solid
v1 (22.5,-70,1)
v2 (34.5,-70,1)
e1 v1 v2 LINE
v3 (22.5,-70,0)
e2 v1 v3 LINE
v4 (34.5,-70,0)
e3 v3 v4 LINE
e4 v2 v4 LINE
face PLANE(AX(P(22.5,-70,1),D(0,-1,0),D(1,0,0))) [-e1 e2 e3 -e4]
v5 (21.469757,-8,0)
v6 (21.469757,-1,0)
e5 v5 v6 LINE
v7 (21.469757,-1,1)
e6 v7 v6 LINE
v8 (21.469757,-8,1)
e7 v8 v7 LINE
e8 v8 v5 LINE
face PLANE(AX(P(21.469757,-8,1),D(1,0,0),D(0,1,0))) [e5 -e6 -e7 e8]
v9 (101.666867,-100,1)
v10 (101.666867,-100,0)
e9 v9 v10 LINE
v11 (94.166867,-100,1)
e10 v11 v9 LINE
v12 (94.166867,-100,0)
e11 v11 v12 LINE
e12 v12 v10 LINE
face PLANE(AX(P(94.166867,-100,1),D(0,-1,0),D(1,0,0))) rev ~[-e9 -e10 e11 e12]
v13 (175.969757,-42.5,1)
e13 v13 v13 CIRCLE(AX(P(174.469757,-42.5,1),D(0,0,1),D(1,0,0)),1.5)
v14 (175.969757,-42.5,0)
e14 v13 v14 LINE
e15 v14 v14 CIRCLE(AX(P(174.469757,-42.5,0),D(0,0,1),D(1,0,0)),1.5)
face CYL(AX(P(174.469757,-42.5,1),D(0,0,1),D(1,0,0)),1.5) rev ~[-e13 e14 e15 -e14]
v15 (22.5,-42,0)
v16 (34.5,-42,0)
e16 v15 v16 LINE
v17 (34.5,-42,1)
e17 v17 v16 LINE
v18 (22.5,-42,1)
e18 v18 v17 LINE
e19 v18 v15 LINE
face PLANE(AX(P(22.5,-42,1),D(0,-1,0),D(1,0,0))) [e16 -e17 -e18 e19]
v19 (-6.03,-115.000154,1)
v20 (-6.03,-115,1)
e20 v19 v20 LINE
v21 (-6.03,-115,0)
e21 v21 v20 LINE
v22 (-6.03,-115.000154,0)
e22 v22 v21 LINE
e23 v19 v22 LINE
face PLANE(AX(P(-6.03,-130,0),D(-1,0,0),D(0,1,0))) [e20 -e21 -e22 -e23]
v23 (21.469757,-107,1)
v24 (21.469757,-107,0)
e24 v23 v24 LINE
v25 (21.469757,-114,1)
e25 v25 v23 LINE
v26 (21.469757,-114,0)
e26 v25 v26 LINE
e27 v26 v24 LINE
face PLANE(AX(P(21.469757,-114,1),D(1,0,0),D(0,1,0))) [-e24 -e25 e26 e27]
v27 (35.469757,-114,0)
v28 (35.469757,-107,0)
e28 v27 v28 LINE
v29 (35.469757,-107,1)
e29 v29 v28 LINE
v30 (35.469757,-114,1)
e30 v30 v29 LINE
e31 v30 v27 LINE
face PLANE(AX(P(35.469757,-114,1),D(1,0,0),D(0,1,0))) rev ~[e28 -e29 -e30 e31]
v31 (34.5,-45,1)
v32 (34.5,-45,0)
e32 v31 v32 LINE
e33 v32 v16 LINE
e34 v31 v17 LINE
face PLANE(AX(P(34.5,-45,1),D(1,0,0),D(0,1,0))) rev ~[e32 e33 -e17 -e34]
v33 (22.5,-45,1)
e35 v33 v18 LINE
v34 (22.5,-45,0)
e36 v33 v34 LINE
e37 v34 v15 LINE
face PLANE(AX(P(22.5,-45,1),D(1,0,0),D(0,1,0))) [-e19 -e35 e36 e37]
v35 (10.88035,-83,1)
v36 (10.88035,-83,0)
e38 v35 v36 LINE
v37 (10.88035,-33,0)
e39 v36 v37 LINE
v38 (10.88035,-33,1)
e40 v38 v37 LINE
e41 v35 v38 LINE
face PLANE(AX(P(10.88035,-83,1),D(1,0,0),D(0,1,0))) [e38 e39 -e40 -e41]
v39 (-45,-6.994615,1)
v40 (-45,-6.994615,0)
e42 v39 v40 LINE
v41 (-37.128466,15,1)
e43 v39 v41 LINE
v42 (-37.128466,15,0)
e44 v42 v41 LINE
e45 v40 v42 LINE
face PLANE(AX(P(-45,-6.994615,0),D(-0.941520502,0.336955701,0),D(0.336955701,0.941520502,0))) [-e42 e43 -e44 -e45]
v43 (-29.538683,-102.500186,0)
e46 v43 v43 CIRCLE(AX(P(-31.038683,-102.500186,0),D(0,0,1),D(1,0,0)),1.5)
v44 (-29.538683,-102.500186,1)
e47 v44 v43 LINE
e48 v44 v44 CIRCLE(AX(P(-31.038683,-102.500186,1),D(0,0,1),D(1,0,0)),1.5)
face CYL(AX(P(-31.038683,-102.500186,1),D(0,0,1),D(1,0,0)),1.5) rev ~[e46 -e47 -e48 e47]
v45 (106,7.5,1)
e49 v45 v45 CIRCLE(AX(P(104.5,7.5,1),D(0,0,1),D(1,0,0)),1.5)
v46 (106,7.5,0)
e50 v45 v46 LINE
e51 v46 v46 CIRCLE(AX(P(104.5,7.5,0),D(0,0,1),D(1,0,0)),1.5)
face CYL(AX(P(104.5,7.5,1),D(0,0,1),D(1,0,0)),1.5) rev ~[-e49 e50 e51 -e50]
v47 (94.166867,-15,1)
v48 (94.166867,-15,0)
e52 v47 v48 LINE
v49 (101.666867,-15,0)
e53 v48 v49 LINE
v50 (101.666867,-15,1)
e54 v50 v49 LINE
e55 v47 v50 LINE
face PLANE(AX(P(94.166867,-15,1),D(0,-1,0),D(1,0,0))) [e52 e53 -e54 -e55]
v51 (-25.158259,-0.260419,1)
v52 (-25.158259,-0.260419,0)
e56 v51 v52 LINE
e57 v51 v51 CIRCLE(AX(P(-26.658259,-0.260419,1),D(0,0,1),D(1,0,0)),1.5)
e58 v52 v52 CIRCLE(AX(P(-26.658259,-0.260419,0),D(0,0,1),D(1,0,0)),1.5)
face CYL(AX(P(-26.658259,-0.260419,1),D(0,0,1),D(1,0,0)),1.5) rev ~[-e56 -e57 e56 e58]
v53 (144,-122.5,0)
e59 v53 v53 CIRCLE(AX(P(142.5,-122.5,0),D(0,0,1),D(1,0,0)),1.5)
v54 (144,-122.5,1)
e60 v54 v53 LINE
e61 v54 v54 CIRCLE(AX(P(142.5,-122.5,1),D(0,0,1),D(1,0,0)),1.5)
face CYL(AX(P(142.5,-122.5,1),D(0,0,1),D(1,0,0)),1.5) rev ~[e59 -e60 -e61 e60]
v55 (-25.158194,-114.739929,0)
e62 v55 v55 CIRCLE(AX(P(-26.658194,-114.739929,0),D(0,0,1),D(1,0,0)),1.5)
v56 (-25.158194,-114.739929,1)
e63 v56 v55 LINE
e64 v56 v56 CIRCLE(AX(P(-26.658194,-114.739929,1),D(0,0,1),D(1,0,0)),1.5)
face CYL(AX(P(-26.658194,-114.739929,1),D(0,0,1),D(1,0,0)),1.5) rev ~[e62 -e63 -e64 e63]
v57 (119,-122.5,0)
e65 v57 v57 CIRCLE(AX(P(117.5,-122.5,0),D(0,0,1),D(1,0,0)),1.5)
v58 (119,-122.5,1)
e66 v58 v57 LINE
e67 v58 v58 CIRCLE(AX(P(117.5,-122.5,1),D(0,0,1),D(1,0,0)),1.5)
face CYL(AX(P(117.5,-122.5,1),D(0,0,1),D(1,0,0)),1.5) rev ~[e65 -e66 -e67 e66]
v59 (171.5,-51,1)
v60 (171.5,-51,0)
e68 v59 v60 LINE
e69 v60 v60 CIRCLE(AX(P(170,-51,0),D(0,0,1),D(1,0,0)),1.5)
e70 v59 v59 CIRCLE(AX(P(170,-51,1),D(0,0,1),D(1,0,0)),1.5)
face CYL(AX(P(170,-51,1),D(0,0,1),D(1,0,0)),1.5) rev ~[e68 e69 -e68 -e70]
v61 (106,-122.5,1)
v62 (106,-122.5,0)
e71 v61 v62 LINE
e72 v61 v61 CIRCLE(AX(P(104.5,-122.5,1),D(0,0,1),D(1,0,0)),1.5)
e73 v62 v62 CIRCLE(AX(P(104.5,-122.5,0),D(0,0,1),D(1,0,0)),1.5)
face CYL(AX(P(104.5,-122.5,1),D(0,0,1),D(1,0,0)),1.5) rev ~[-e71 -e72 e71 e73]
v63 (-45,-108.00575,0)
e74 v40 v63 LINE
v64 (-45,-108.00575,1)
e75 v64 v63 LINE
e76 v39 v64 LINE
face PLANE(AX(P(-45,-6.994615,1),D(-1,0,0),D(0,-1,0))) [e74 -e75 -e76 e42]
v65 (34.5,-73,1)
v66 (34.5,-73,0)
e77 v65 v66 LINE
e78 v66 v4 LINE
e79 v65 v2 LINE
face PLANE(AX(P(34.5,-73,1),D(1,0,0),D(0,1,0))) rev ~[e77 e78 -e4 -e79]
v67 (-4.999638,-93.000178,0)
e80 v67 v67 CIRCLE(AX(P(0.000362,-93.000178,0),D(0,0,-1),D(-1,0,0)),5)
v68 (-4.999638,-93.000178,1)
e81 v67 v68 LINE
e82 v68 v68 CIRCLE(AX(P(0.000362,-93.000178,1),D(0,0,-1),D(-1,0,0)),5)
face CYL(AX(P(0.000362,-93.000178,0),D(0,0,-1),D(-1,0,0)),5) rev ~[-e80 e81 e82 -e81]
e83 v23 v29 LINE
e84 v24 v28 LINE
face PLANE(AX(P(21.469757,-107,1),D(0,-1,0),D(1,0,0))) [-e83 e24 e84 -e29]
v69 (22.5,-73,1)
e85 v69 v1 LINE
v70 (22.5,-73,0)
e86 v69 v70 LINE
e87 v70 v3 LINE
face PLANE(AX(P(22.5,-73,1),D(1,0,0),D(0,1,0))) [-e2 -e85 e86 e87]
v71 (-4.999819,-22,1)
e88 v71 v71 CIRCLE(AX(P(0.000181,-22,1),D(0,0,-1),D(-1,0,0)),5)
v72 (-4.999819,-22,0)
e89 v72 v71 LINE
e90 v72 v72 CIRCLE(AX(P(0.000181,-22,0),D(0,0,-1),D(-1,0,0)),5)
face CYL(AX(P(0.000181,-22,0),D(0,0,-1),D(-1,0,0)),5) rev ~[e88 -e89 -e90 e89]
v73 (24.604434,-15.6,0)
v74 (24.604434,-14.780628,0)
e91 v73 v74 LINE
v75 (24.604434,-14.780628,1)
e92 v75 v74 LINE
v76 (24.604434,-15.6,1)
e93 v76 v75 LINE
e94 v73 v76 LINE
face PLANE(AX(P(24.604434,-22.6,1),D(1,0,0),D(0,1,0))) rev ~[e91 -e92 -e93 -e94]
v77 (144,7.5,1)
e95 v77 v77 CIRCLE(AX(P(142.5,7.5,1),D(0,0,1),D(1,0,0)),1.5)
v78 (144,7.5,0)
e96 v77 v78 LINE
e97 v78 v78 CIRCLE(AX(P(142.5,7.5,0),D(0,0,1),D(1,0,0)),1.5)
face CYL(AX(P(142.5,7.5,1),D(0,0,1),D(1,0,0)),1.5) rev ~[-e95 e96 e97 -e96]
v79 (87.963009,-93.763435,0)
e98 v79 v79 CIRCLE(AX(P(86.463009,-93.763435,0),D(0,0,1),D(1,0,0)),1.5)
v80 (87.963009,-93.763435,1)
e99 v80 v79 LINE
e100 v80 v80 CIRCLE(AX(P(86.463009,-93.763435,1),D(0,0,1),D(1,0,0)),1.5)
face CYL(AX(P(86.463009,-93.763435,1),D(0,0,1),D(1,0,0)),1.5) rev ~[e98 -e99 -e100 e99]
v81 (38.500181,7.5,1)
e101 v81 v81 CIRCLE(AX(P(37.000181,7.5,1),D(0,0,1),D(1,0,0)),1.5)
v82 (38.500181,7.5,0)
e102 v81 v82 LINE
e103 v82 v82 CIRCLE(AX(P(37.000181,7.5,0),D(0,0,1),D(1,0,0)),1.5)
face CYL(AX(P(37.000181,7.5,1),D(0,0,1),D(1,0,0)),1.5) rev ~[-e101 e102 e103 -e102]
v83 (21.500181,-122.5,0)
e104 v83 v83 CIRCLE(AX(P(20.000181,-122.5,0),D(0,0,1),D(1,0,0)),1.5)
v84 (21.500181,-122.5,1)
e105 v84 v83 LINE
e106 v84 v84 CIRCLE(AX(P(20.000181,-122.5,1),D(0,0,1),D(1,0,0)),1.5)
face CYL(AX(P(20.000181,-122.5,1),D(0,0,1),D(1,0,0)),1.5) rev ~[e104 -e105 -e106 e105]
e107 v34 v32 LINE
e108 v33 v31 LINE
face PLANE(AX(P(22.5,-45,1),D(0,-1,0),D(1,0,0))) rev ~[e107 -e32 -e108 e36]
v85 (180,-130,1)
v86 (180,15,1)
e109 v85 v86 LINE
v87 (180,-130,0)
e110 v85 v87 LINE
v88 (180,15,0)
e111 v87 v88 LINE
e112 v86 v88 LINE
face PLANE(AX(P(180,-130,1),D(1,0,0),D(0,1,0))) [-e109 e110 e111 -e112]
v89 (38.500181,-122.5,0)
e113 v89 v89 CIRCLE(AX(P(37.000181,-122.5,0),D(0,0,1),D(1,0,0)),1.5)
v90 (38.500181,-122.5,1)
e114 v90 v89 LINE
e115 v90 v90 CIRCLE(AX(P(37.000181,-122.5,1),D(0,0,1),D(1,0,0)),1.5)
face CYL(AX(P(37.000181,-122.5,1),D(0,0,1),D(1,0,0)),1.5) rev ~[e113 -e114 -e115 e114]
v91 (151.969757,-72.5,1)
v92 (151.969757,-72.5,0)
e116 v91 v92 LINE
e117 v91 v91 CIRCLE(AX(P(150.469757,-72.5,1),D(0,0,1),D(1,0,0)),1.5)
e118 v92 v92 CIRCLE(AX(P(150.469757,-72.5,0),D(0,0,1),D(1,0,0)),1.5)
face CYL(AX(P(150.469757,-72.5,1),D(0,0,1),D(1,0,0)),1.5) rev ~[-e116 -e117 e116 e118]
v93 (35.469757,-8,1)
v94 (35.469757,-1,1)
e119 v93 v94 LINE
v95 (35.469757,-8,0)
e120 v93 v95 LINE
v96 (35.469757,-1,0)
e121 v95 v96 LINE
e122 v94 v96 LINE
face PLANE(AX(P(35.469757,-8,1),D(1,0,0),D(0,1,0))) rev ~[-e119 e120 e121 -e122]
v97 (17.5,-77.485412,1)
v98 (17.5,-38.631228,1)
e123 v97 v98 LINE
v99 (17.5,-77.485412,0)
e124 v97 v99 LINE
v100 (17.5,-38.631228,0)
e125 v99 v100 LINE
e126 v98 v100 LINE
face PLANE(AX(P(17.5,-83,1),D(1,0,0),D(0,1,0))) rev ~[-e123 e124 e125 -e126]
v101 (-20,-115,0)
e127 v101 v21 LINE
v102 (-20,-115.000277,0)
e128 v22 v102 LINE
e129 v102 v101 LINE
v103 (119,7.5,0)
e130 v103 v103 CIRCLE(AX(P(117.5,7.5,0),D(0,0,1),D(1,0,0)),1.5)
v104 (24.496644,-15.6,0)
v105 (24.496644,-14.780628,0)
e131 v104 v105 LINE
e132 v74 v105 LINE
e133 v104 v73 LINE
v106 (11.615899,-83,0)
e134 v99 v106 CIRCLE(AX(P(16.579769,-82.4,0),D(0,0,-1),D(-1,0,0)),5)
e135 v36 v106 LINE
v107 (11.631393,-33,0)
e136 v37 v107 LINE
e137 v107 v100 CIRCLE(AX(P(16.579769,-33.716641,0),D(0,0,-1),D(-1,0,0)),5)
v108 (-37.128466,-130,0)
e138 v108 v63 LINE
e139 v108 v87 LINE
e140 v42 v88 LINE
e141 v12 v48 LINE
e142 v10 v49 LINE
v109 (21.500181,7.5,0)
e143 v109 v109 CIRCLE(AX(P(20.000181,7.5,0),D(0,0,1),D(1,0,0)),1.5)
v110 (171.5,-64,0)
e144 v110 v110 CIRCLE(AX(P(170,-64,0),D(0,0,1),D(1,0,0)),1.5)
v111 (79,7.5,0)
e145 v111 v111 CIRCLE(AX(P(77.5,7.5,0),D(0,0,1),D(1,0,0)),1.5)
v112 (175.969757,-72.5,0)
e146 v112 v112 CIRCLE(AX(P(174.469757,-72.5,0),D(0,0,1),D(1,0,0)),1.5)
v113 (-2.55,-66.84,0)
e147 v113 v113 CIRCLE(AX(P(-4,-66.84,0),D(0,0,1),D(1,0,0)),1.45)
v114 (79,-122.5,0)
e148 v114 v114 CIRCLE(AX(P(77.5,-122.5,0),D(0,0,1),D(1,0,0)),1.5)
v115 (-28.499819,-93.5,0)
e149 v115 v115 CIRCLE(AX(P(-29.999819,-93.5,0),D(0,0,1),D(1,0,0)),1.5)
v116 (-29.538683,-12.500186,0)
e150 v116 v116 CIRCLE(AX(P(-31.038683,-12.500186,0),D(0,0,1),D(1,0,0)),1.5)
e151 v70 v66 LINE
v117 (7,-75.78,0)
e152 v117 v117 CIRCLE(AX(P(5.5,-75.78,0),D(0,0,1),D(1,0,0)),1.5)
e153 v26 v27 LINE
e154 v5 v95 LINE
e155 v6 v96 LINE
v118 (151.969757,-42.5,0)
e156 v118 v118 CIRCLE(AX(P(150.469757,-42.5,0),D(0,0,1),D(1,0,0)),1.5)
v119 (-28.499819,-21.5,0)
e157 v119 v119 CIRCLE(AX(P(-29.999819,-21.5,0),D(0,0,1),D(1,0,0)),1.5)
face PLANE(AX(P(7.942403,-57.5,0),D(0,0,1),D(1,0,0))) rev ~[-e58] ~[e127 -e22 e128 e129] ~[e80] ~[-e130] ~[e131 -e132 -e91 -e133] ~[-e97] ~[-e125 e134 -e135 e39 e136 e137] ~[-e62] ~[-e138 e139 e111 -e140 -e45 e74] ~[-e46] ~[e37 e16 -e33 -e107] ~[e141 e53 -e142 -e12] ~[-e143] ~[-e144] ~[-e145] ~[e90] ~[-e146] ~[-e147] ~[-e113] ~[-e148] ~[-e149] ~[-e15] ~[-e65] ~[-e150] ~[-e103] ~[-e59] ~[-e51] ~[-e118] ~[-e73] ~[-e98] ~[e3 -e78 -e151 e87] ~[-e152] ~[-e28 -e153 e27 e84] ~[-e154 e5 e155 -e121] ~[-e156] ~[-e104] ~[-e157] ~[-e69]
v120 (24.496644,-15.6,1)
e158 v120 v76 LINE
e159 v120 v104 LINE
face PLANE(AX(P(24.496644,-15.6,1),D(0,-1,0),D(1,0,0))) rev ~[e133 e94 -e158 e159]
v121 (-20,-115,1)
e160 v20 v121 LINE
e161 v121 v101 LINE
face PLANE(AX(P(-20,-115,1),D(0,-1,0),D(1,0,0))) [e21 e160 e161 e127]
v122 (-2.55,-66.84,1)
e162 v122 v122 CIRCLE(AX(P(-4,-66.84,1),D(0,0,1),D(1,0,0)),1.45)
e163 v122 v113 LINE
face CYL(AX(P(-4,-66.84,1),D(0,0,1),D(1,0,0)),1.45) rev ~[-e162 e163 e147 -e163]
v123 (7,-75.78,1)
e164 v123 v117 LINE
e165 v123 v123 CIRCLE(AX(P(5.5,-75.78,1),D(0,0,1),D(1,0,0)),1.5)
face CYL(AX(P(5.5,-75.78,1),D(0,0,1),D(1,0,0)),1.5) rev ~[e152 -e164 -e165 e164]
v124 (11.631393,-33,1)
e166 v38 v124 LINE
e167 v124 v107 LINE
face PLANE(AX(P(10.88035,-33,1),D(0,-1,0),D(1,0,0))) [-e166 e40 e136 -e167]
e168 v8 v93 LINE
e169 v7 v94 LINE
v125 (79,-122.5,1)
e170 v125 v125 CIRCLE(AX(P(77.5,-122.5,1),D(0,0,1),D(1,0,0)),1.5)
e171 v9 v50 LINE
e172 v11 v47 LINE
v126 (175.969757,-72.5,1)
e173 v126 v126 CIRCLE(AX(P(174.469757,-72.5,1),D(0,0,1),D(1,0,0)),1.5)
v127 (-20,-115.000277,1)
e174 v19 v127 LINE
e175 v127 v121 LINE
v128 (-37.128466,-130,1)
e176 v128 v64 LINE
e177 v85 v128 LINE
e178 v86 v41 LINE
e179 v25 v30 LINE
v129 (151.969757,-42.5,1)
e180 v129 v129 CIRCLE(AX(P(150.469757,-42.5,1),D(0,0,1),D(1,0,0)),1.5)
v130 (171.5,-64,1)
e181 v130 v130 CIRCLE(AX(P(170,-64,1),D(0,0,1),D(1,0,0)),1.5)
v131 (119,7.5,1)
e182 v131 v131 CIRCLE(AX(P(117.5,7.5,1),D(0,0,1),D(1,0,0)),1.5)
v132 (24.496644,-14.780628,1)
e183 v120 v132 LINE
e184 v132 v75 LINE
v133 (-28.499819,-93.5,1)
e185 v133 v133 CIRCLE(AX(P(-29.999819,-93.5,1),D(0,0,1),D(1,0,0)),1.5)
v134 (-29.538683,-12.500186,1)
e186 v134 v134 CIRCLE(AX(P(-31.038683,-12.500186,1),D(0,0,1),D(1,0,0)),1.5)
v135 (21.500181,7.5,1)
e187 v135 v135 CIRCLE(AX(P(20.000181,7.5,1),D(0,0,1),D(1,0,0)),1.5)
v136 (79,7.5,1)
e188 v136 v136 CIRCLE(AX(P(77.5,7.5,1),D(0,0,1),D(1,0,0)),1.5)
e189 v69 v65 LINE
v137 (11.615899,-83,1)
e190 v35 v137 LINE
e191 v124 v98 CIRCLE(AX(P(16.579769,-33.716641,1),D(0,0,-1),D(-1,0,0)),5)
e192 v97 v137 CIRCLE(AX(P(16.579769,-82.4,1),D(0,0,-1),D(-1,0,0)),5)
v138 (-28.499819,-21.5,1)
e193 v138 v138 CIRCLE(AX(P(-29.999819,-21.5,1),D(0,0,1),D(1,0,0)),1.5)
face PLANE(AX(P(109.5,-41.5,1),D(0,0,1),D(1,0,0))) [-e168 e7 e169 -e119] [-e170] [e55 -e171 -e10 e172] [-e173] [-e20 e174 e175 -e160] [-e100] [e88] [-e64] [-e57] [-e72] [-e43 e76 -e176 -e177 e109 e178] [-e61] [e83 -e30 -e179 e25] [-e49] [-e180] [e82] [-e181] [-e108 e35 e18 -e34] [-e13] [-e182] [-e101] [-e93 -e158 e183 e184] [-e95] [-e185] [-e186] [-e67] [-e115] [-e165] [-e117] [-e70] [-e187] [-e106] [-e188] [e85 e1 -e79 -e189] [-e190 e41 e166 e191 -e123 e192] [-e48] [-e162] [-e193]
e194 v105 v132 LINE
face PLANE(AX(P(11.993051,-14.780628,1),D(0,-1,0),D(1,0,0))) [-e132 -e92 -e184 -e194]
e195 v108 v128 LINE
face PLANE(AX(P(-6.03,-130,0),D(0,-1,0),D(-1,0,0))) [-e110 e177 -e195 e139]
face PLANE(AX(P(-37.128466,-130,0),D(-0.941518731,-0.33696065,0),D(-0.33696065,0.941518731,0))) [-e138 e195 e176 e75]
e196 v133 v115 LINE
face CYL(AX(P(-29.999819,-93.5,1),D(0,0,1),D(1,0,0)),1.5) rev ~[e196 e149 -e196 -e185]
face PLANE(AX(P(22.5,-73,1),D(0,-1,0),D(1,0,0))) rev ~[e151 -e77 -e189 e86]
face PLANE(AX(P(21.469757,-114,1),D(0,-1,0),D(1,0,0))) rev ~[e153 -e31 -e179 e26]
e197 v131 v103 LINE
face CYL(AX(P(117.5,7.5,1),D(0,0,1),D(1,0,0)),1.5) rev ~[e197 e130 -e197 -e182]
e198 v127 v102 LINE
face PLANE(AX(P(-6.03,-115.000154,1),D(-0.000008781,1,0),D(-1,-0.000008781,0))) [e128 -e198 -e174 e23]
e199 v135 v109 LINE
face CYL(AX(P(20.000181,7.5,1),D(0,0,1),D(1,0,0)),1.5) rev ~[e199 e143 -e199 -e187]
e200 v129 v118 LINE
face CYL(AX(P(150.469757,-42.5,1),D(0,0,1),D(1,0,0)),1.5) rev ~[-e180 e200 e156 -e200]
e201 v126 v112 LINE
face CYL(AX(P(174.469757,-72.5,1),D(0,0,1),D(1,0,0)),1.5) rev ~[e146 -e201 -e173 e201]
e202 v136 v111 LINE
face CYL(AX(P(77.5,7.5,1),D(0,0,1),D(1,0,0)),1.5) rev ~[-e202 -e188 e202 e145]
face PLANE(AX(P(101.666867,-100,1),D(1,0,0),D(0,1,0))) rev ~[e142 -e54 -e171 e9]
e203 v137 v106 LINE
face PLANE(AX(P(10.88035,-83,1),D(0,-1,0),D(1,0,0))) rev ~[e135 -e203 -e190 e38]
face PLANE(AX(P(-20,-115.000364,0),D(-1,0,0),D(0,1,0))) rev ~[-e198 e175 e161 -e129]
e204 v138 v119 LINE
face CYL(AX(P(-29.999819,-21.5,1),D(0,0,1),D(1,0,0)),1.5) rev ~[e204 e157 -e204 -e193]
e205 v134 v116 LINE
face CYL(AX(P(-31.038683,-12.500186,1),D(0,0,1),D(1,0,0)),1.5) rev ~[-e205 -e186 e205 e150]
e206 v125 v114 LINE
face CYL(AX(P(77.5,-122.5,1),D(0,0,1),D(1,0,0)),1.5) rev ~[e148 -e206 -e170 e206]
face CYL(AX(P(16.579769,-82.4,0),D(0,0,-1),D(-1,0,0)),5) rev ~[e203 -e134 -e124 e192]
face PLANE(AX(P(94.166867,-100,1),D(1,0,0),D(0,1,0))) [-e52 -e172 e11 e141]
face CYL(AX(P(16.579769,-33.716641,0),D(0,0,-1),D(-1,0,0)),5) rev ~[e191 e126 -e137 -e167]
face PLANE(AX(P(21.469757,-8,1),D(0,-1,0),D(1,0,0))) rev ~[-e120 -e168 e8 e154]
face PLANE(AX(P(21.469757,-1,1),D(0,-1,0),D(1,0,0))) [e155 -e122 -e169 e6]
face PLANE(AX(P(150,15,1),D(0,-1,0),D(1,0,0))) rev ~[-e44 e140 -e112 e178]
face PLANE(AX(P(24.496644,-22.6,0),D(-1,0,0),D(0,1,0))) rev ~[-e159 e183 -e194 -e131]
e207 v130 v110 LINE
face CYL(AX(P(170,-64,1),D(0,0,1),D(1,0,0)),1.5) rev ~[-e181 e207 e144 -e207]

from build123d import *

# Parameters (mm, degrees)
SKETCH1_W            = 150
SKETCH1_H            = 115
BOSS_EXTRUDE1_DEPTH  = 1
SKETCH2_W            = 12
SKETCH2_H            = 3
CUT_EXTRUDE1_DEPTH   = 1
SKETCH6_R            = 1.5
CUT_EXTRUDE8_DEPTH   = 1
SKETCH7_W            = 3
SKETCH7_H            = 12
CUT_EXTRUDE9_DEPTH   = 1
SKETCH8_R            = 1.5
CUT_EXTRUDE10_DEPTH  = 1
SKETCH11_W           = 12
SKETCH11_H           = 7
CUT_EXTRUDE13_DEPTH  = 1
SKETCH13_W           = 12
SKETCH13_H           = 7
CUT_EXTRUDE14_DEPTH  = 1
SKETCH14_W           = 15
SKETCH14_H           = 15
BOSS_EXTRUDE4_DEPTH  = 1
SKETCH16_W           = 15
SKETCH16_H           = 15
BOSS_EXTRUDE6_DEPTH  = 1
SKETCH17_W           = 20
SKETCH17_H           = 115
BOSS_EXTRUDE7_DEPTH  = 1
SKETCH18_W           = 10
SKETCH18_H           = 115.000364416
BOSS_EXTRUDE8_DEPTH  = 1
BOSS_EXTRUDE9_DEPTH  = 1
BOSS_EXTRUDE10_DEPTH = 1
SKETCH21_R           = 1.5
CUT_EXTRUDE15_DEPTH  = 1
SKETCH22_R           = 1.5
CUT_EXTRUDE16_DEPTH  = 1
SKETCH23_R           = 1.5
CUT_EXTRUDE17_DEPTH  = 1
SKETCH24_R           = 1.5
CUT_EXTRUDE18_DEPTH  = 1
SKETCH25_R           = 1.52220731
SKETCH25_R_2         = 1.5
CUT_EXTRUDE19_DEPTH  = 1
SKETCH26_R           = 1.5
CUT_EXTRUDE20_DEPTH  = 1
SKETCH27_W           = 11.454851069
SKETCH27_H           = 7.502285944
CUT_EXTRUDE21_DEPTH  = 1
SKETCH28_W           = 4.81914972
SKETCH28_H           = 7.502285944
BOSS_EXTRUDE11_DEPTH = 1
SKETCH29_W           = 12.611382983
SKETCH29_H           = 7.819372276
CUT_EXTRUDE22_DEPTH  = 1
SKETCH30_W           = 9.50335562
SKETCH30_H           = 7
BOSS_EXTRUDE12_DEPTH = 1
SKETCH31_W           = 13.503593385
SKETCH31_H           = 8.577826874
CUT_EXTRUDE23_DEPTH  = 1
SKETCH32_W           = 1
SKETCH32_H           = 7.819372276
CUT_EXTRUDE24_DEPTH  = 1
SKETCH33_W           = 11.454851069
SKETCH33_H           = 7.502285944
BOSS_EXTRUDE13_DEPTH = 1
SKETCH34_R           = 5
CUT_EXTRUDE25_DEPTH  = 1
SKETCH35_W           = 4.294132012
SKETCH35_H           = 28
CUT_EXTRUDE26_DEPTH  = 1
SKETCH36_R           = 1.5
CUT_EXTRUDE28_DEPTH  = 10
SKETCH37_R           = 5
CUT_EXTRUDE29_DEPTH  = 1
SKETCH38_W           = 50
SKETCH38_H           = 15
BOSS_EXTRUDE14_DEPTH = 1
BOSS_EXTRUDE15_DEPTH = 1
SKETCH40_W           = 30
SKETCH40_H           = 145
BOSS_EXTRUDE16_DEPTH = 1
SKETCH41_W           = 76.030000001
SKETCH41_H           = 15
SKETCH41_W_2         = 76.030243438
BOSS_EXTRUDE17_DEPTH = 1
SKETCH42_R           = 1.5
SKETCH42_R_2         = 1.52220731
SKETCH42_W           = 13.503593385
SKETCH42_H           = 8.577826874
SKETCH42_H_2         = 7.819372276
BOSS_EXTRUDE18_DEPTH = 1
SKETCH43_R           = 1.5
CUT_EXTRUDE30_DEPTH  = 1
SKETCH44_R           = 1.5
SKETCH44_W           = 14
SKETCH44_H           = 7
CUT_EXTRUDE31_DEPTH  = 1
BOSS_EXTRUDE19_DEPTH = 1
SKETCH46_R           = 1.5
CUT_EXTRUDE32_DEPTH  = 1
SKETCH47_W           = 4.294132012
SKETCH47_H           = 28
BOSS_EXTRUDE22_DEPTH = 1
SKETCH48_W           = 0.074133506
SKETCH48_H           = 12
BOSS_EXTRUDE23_DEPTH = 1
SKETCH49_R           = 1.5
SKETCH49_R_2         = 1.45
CUT_EXTRUDE34_DEPTH  = 1
SKETCH50_R           = 1.5
CUT_EXTRUDE35_DEPTH  = 1
SKETCH51_R           = 1.5
BOSS_EXTRUDE24_DEPTH = 1
SKETCH52_R           = 1.5
CUT_EXTRUDE37_DEPTH  = 1
SKETCH53_W           = 6.619650314
SKETCH53_H           = 50
CUT_EXTRUDE38_DEPTH  = 1
SKETCH54_R           = 1.5
BOSS_EXTRUDE25_DEPTH = 1
SKETCH55_R           = 1.5
CUT_EXTRUDE39_DEPTH  = 10
SKETCH58_W           = 7.5
SKETCH58_H           = 85
CUT_EXTRUDE40_DEPTH  = 1


with BuildPart() as part:
    # Sketch1 → Boss-Extrude1 (new body)
    with BuildSketch(Plane.XY):
        with Locations((75, -57.5)):
            Rectangle(SKETCH1_W, SKETCH1_H)
    extrude(amount=BOSS_EXTRUDE1_DEPTH)

    # Sketch2 → Cut-Extrude1 (cut)
    with BuildSketch(Plane.XY.offset(1)):
        with Locations((28.5, -43.5)):
            Rectangle(SKETCH2_W, SKETCH2_H)
        with Locations((28.5, -71.5)):
            Rectangle(SKETCH2_W, SKETCH2_H)
    extrude(amount=-CUT_EXTRUDE1_DEPTH, mode=Mode.SUBTRACT)

    # Sketch6 → Cut-Extrude8 (cut)
    with BuildSketch(Plane.XY.offset(1)):
        with Locations((38.660903006, -17.425022317)):
            Circle(SKETCH6_R)
        with Locations((86.463008881, -93.763435153)):
            Circle(SKETCH6_R)
    extrude(amount=-CUT_EXTRUDE8_DEPTH, mode=Mode.SUBTRACT)

    # Sketch7 → Cut-Extrude9 (cut)
    with BuildSketch(Plane.XY.offset(1)):
        with Locations((7.22120379, -57.5)):
            Rectangle(SKETCH7_W, SKETCH7_H)
    extrude(amount=-CUT_EXTRUDE9_DEPTH, mode=Mode.SUBTRACT)

    # Sketch8 → Cut-Extrude10 (cut)
    with BuildSketch(Plane.XY.offset(1)):
        with Locations((17, -5)):
            Circle(SKETCH8_R)
        with Locations((38.5, -5)):
            Circle(SKETCH8_R)
        with Locations((17, -110)):
            Circle(SKETCH8_R)
        with Locations((38.5, -110)):
            Circle(SKETCH8_R)
    extrude(amount=-CUT_EXTRUDE10_DEPTH, mode=Mode.SUBTRACT)

    # Sketch11 → Cut-Extrude13 (cut)
    with BuildSketch(Plane.XY.offset(1)):
        with Locations((28, -19.1)):
            Rectangle(SKETCH11_W, SKETCH11_H)
    extrude(amount=-CUT_EXTRUDE13_DEPTH, mode=Mode.SUBTRACT)

    # Sketch13 → Cut-Extrude14 (cut)
    with BuildSketch(Plane.XY.offset(1)):
        with Locations((28, -95.9)):
            Rectangle(SKETCH13_W, SKETCH13_H)
    extrude(amount=-CUT_EXTRUDE14_DEPTH, mode=Mode.SUBTRACT)

    # Sketch14 → Boss-Extrude4 (add)
    with BuildSketch(Plane.XY.offset(1)):
        with Locations((142.5, 7.5)):
            Rectangle(SKETCH14_W, SKETCH14_H)
        with Locations((142.5, -122.5)):
            Rectangle(SKETCH14_W, SKETCH14_H)
    extrude(amount=-BOSS_EXTRUDE4_DEPTH)

    # Sketch16 → Boss-Extrude6 (add)
    with BuildSketch(Plane.XY.offset(1)):
        with Locations((77.5, 7.5)):
            Rectangle(SKETCH16_W, SKETCH16_H)
        with Locations((77.5, -122.5)):
            Rectangle(SKETCH16_W, SKETCH16_H)
    extrude(amount=-BOSS_EXTRUDE6_DEPTH)

    # Sketch17 → Boss-Extrude7 (add)
    with BuildSketch(Plane.XY.offset(1)):
        with Locations((-10, -57.5)):
            Rectangle(SKETCH17_W, SKETCH17_H)
    extrude(amount=-BOSS_EXTRUDE7_DEPTH)

    # Sketch18 → Boss-Extrude8 (add)
    with BuildSketch(Plane(origin=(0, 0, 0), x_dir=(-1, 0, 0), z_dir=(0, 0, -1))):
        with Locations((25, -57.500182208)):
            Rectangle(SKETCH18_W, SKETCH18_H)
    extrude(amount=-BOSS_EXTRUDE8_DEPTH)

    # Sketch19 → Boss-Extrude9 (add)
    with BuildSketch(Plane.XY.offset(1)):
        Polygon((-30, 0), (-6.030243438, 10.990373671), (-6.030243438, 0), align=None)
    extrude(amount=-BOSS_EXTRUDE9_DEPTH)

    # Sketch20 → Boss-Extrude10 (add)
    with BuildSketch(Plane.XY.offset(1)):
        Polygon((-30, -115.000364416), (-6.030000001, -125.990153925), (-6.030000001, -115.000153925), align=None)
    extrude(amount=-BOSS_EXTRUDE10_DEPTH)

    # Sketch21 → Cut-Extrude15 (cut)
    with BuildSketch(Plane.XY.offset(1)):
        with Locations((-20.843675083, -21.50019062)):
            Circle(SKETCH21_R)
        with Locations((-20.843675083, -93.50019062)):
            Circle(SKETCH21_R)
    extrude(amount=-CUT_EXTRUDE15_DEPTH, mode=Mode.SUBTRACT)

    # Sketch22 → Cut-Extrude16 (cut)
    with BuildSketch(Plane.XY.offset(1)):
        with Locations((-13.039930758, -21.607097789)):
            Circle(SKETCH22_R)
        with Locations((-13.039930758, -93.607097789)):
            Circle(SKETCH22_R)
    extrude(amount=-CUT_EXTRUDE16_DEPTH, mode=Mode.SUBTRACT)

    # Sketch23 → Cut-Extrude17 (cut)
    with BuildSketch(Plane.XY.offset(1)):
        with Locations((142.5, -122.5)):
            Circle(SKETCH23_R)
        with Locations((77.5, -122.5)):
            Circle(SKETCH23_R)
        with Locations((142.5, 7.5)):
            Circle(SKETCH23_R)
        with Locations((77.5, 7.5)):
            Circle(SKETCH23_R)
    extrude(amount=-CUT_EXTRUDE17_DEPTH, mode=Mode.SUBTRACT)

    # Sketch24 → Cut-Extrude18 (cut)
    with BuildSketch(Plane.XY.offset(1)):
        with Locations((134.5, -41.5)):
            Circle(SKETCH24_R)
        with Locations((134.5, -73.5)):
            Circle(SKETCH24_R)
        with Locations((109.5, -41.5)):
            Circle(SKETCH24_R)
        with Locations((109.5, -73.5)):
            Circle(SKETCH24_R)
    extrude(amount=-CUT_EXTRUDE18_DEPTH, mode=Mode.SUBTRACT)

    # Sketch25 → Cut-Extrude19 (cut)
    with BuildSketch(Plane.XY.offset(1)):
        with Locations((28.5, -5)):
            Circle(SKETCH25_R)
        with Locations((7, -5)):
            Circle(SKETCH25_R_2)
    extrude(amount=-CUT_EXTRUDE19_DEPTH, mode=Mode.SUBTRACT)

    # Sketch26 → Cut-Extrude20 (cut)
    with BuildSketch(Plane.XY.offset(1)):
        with Locations((28.500000001, -110.000105781)):
            Circle(SKETCH26_R)
        with Locations((7.000000001, -110.000105781)):
            Circle(SKETCH26_R)
    extrude(amount=-CUT_EXTRUDE20_DEPTH, mode=Mode.SUBTRACT)

    # Sketch27 → Cut-Extrude21 (cut)
    with BuildSketch(Plane.XY.offset(1)):
        with Locations((32.546575255, -96.151142972)):
            Rectangle(SKETCH27_W, SKETCH27_H)
    extrude(amount=-CUT_EXTRUDE21_DEPTH, mode=Mode.SUBTRACT)

    # Sketch28 → Boss-Extrude11 (add)
    with BuildSketch(Plane.XY.offset(1)):
        with Locations((24.40957486, -96.151142972)):
            Rectangle(SKETCH28_W, SKETCH28_H)
    extrude(amount=-BOSS_EXTRUDE11_DEPTH)

    # Sketch29 → Cut-Extrude22 (cut)
    with BuildSketch(Plane.XY.offset(1)):
        with Locations((18.298742487, -18.690313862)):
            Rectangle(SKETCH29_W, SKETCH29_H)
    extrude(amount=-CUT_EXTRUDE22_DEPTH, mode=Mode.SUBTRACT)

    # Sketch30 → Boss-Extrude12 (add)
    with BuildSketch(Plane.XY.offset(1)):
        with Locations((29.24832219, -19.1)):
            Rectangle(SKETCH30_W, SKETCH30_H)
    extrude(amount=-BOSS_EXTRUDE12_DEPTH)

    # Sketch31 → Cut-Extrude23 (cut)
    with BuildSketch(Plane.XY.offset(1)):
        with Locations((17.744847688, -96.688913437)):
            Rectangle(SKETCH31_W, SKETCH31_H)
    extrude(amount=-CUT_EXTRUDE23_DEPTH, mode=Mode.SUBTRACT)

    # Sketch32 → Cut-Extrude24 (cut)
    with BuildSketch(Plane.XY.offset(1)):
        with Locations((11.493050995, -18.690313862)):
            Rectangle(SKETCH32_W, SKETCH32_H)
    extrude(amount=-CUT_EXTRUDE24_DEPTH, mode=Mode.SUBTRACT)

    # Sketch33 → Boss-Extrude13 (add)
    with BuildSketch(Plane.XY.offset(1)):
        with Locations((32.546575255, -96.151142972)):
            Rectangle(SKETCH33_W, SKETCH33_H)
    extrude(amount=-BOSS_EXTRUDE13_DEPTH)

    # Sketch34 → Cut-Extrude25 (cut)
    with BuildSketch(Plane(origin=(0, 0, 0), x_dir=(-1, 0, 0), z_dir=(0, 0, -1))):
        with Locations((-0.000361951, -93.000178425)):
            Circle(SKETCH34_R)
        with Locations((-0.000180975, -22)):
            Circle(SKETCH34_R)
    extrude(amount=-CUT_EXTRUDE25_DEPTH, mode=Mode.SUBTRACT)

    # Sketch35 → Cut-Extrude26 (cut)
    with BuildSketch(Plane(origin=(0, 0, 0), x_dir=(-1, 0, 0), z_dir=(0, 0, -1))):
        with Locations((-7.942403302, -57.5)):
            Rectangle(SKETCH35_W, SKETCH35_H)
    extrude(amount=-CUT_EXTRUDE26_DEPTH, mode=Mode.SUBTRACT)

    # Sketch36 → Cut-Extrude28 (cut)
    with BuildSketch(Plane(origin=(0, 0, 0), x_dir=(-1, 0, 0), z_dir=(0, 0, -1))):
        with Locations((14, -105.990153925)):
            Circle(SKETCH36_R)
        with Locations((14, -9.009626329)):
            Circle(SKETCH36_R)
    extrude(amount=-CUT_EXTRUDE28_DEPTH, mode=Mode.SUBTRACT)

    # Sketch37 → Cut-Extrude29 (cut)
    with BuildSketch(Plane(origin=(0, 0, 0), x_dir=(-1, 0, 0), z_dir=(0, 0, -1))):
        with Locations((-16.579768875, -82.4)):
            Circle(SKETCH37_R)
        with Locations((-16.579768875, -33.716640554)):
            Circle(SKETCH37_R)
    extrude(amount=-CUT_EXTRUDE29_DEPTH, mode=Mode.SUBTRACT)

    # Sketch38 → Boss-Extrude14 (add)
    with BuildSketch(Plane(origin=(0, 0, 0), x_dir=(-1, 0, 0), z_dir=(0, 0, -1))):
        with Locations((-110, -122.5)):
            Rectangle(SKETCH38_W, SKETCH38_H)
        with Locations((-110, 7.5)):
            Rectangle(SKETCH38_W, SKETCH38_H)
    extrude(amount=-BOSS_EXTRUDE14_DEPTH)

    # Sketch39 → Boss-Extrude15 (add)
    with BuildSketch(Plane.XY.offset(1)):
        Polygon((-30, 0), (-45, -6.994614872), (-45, -108.005749543), (-30, -115.000364416), align=None)
    extrude(amount=-BOSS_EXTRUDE15_DEPTH)

    # Sketch40 → Boss-Extrude16 (add)
    with BuildSketch(Plane.XY.offset(1)):
        with Locations((165, -57.5)):
            Rectangle(SKETCH40_W, SKETCH40_H)
    extrude(amount=-BOSS_EXTRUDE16_DEPTH)

    # Sketch41 → Boss-Extrude17 (add)
    with BuildSketch(Plane(origin=(0, 0, 0), x_dir=(-1, 0, 0), z_dir=(0, 0, -1))):
        with Locations((-31.985, -122.5)):
            Rectangle(SKETCH41_W, SKETCH41_H)
        with Locations((-31.984878281, 7.5)):
            Rectangle(SKETCH41_W_2, SKETCH41_H)
    extrude(amount=-BOSS_EXTRUDE17_DEPTH)

    # Sketch42 → Boss-Extrude18 (add)
    with BuildSketch(Plane(origin=(0, 0, 0), x_dir=(-1, 0, 0), z_dir=(0, 0, -1))):
        with Locations((-38.5, -110)):
            Circle(SKETCH42_R)
        with Locations((-28.500000001, -110.000105781)):
            Circle(SKETCH42_R)
        with Locations((-17, -110)):
            Circle(SKETCH42_R)
        with Locations((-7.000000001, -110.000105781)):
            Circle(SKETCH42_R)
        with Locations((14, -105.990153925)):
            Circle(SKETCH42_R)
        with Locations((13.039930758, -93.607097789)):
            Circle(SKETCH42_R)
        with Locations((20.843675083, -93.50019062)):
            Circle(SKETCH42_R)
        with Locations((-38.660903006, -17.425022317)):
            Circle(SKETCH42_R)
        with Locations((-38.5, -5)):
            Circle(SKETCH42_R)
        with Locations((-28.5, -5)):
            Circle(SKETCH42_R_2)
        with Locations((-17, -5)):
            Circle(SKETCH42_R)
        with Locations((-7, -5)):
            Circle(SKETCH42_R)
        with Locations((14, -9.009626329)):
            Circle(SKETCH42_R)
        with Locations((13.039930758, -21.607097789)):
            Circle(SKETCH42_R)
        with Locations((20.843675083, -21.50019062)):
            Circle(SKETCH42_R)
        with Locations((-17.744847688, -96.688913437)):
            Rectangle(SKETCH42_W, SKETCH42_H)
        with Locations((-17.744847688, -18.690313862)):
            Rectangle(SKETCH42_W, SKETCH42_H_2)
    extrude(amount=-BOSS_EXTRUDE18_DEPTH)

    # Sketch43 → Cut-Extrude30 (cut)
    with BuildSketch(Plane.XY.offset(1)):
        with Locations((-29.999819025, -21.5)):
            Circle(SKETCH43_R)
        with Locations((-29.999819025, -93.5)):
            Circle(SKETCH43_R)
    extrude(amount=-CUT_EXTRUDE30_DEPTH, mode=Mode.SUBTRACT)

    # Sketch44 → Cut-Extrude31 (cut)
    with BuildSketch(Plane.XY.offset(1)):
        with Locations((20.000180975, 7.5)):
            Circle(SKETCH44_R)
        with Locations((20.000180975, -122.5)):
            Circle(SKETCH44_R)
        with Locations((37.000180975, 7.5)):
            Circle(SKETCH44_R)
        with Locations((37.000180975, -122.5)):
            Circle(SKETCH44_R)
        with Locations((28.469756562, -4.5)):
            Rectangle(SKETCH44_W, SKETCH44_H)
        with Locations((28.469756562, -110.5)):
            Rectangle(SKETCH44_W, SKETCH44_H)
    extrude(amount=-CUT_EXTRUDE31_DEPTH, mode=Mode.SUBTRACT)

    # Sketch45 → Boss-Extrude19 (add)
    with BuildSketch(Plane(origin=(0, 0, 0), x_dir=(-1, 0, 0), z_dir=(0, 0, -1))):
        Polygon((6.030000001, -130), (37.128465769, -130), (45, -108.005749543), (6.030000001, -125.990153925), align=None)
        Polygon((6.030243438, 15), (6.030243438, 10.990373671), (45, -6.994614872), (37.128465769, 15), align=None)
    extrude(amount=-BOSS_EXTRUDE19_DEPTH)

    # Sketch46 → Cut-Extrude32 (cut)
    with BuildSketch(Plane.XY.offset(1)):
        with Locations((170, -51)):
            Circle(SKETCH46_R)
        with Locations((170, -64)):
            Circle(SKETCH46_R)
        with Locations((117.5, 7.5)):
            Circle(SKETCH46_R)
        with Locations((104.5, 7.5)):
            Circle(SKETCH46_R)
        with Locations((117.5, -122.5)):
            Circle(SKETCH46_R)
        with Locations((104.5, -122.5)):
            Circle(SKETCH46_R)
        with Locations((-20, 7.5)):
            Circle(SKETCH46_R)
        with Locations((-7, 7.5)):
            Circle(SKETCH46_R)
        with Locations((-17, -122.5)):
            Circle(SKETCH46_R)
        with Locations((-30, -122.5)):
            Circle(SKETCH46_R)
    extrude(amount=-CUT_EXTRUDE32_DEPTH, mode=Mode.SUBTRACT)

    # Sketch47 → Boss-Extrude22 (add)
    with BuildSketch(Plane.XY.offset(1)):
        with Locations((7.942403302, -57.5)):
            Rectangle(SKETCH47_W, SKETCH47_H)
    extrude(amount=-BOSS_EXTRUDE22_DEPTH)

    # Sketch48 → Boss-Extrude23 (add)
    with BuildSketch(Plane.XY.offset(1)):
        with Locations((5.758270543, -57.5)):
            Rectangle(SKETCH48_W, SKETCH48_H)
    extrude(amount=-BOSS_EXTRUDE23_DEPTH)

    # Sketch49 → Cut-Extrude34 (cut)
    with BuildSketch(Plane.XY.offset(1)):
        with Locations((5.5, -75.78)):
            Circle(SKETCH49_R)
        with Locations((15, -66.84)):
            Circle(SKETCH49_R_2)
        with Locations((-4, -66.84)):
            Circle(SKETCH49_R_2)
    extrude(amount=-CUT_EXTRUDE34_DEPTH, mode=Mode.SUBTRACT)

    # Sketch50 → Cut-Extrude35 (cut)
    with BuildSketch(Plane.XY.offset(1)):
        with Locations((-19.703771228, -109.51)):
            Circle(SKETCH50_R)
        with Locations((-19.703757021, -5.49)):
            Circle(SKETCH50_R)
    extrude(amount=-CUT_EXTRUDE35_DEPTH, mode=Mode.SUBTRACT)

    # Sketch51 → Boss-Extrude24 (add)
    with BuildSketch(Plane.XY.offset(1)):
        with Locations((-20, 7.5)):
            Circle(SKETCH51_R)
        with Locations((-7, 7.5)):
            Circle(SKETCH51_R)
        with Locations((-19.703757021, -5.49)):
            Circle(SKETCH51_R)
        with Locations((-19.703771228, -109.51)):
            Circle(SKETCH51_R)
        with Locations((-17, -122.5)):
            Circle(SKETCH51_R)
        with Locations((-30, -122.5)):
            Circle(SKETCH51_R)
    extrude(amount=-BOSS_EXTRUDE24_DEPTH)

    # Sketch52 → Cut-Extrude37 (cut)
    with BuildSketch(Plane.XY.offset(1)):
        with Locations((-26.658258628, -0.260419418)):
            Circle(SKETCH52_R)
        with Locations((-31.038682734, -12.500185946)):
            Circle(SKETCH52_R)
        with Locations((-26.658194291, -114.739929448)):
            Circle(SKETCH52_R)
        with Locations((-31.038682734, -102.500185946)):
            Circle(SKETCH52_R)
    extrude(amount=-CUT_EXTRUDE37_DEPTH, mode=Mode.SUBTRACT)

    # Sketch53 → Cut-Extrude38 (cut)
    with BuildSketch(Plane.XY.offset(1)):
        with Locations((14.190174843, -58)):
            Rectangle(SKETCH53_W, SKETCH53_H)
    extrude(amount=-CUT_EXTRUDE38_DEPTH, mode=Mode.SUBTRACT)

    # Sketch54 → Boss-Extrude25 (add)
    with BuildSketch(Plane.XY.offset(1)):
        with Locations((109.5, -41.5)):
            Circle(SKETCH54_R)
        with Locations((109.5, -73.5)):
            Circle(SKETCH54_R)
        with Locations((134.5, -73.5)):
            Circle(SKETCH54_R)
        with Locations((134.5, -41.5)):
            Circle(SKETCH54_R)
    extrude(amount=-BOSS_EXTRUDE25_DEPTH)

    # Sketch55 → Cut-Extrude39 (cut)
    with BuildSketch(Plane.XY.offset(1)):
        with Locations((174.469756562, -42.5)):
            Circle(SKETCH55_R)
        with Locations((174.469756562, -72.5)):
            Circle(SKETCH55_R)
        with Locations((150.469756562, -42.5)):
            Circle(SKETCH55_R)
        with Locations((150.469756562, -72.5)):
            Circle(SKETCH55_R)
    extrude(amount=-CUT_EXTRUDE39_DEPTH, mode=Mode.SUBTRACT)

    # Sketch58 → Cut-Extrude40 (cut)
    with BuildSketch(Plane.XY.offset(1)):
        with Locations((97.916866662, -57.5)):
            Rectangle(SKETCH58_W, SKETCH58_H)
    extrude(amount=-CUT_EXTRUDE40_DEPTH, mode=Mode.SUBTRACT)


solid = part.part
